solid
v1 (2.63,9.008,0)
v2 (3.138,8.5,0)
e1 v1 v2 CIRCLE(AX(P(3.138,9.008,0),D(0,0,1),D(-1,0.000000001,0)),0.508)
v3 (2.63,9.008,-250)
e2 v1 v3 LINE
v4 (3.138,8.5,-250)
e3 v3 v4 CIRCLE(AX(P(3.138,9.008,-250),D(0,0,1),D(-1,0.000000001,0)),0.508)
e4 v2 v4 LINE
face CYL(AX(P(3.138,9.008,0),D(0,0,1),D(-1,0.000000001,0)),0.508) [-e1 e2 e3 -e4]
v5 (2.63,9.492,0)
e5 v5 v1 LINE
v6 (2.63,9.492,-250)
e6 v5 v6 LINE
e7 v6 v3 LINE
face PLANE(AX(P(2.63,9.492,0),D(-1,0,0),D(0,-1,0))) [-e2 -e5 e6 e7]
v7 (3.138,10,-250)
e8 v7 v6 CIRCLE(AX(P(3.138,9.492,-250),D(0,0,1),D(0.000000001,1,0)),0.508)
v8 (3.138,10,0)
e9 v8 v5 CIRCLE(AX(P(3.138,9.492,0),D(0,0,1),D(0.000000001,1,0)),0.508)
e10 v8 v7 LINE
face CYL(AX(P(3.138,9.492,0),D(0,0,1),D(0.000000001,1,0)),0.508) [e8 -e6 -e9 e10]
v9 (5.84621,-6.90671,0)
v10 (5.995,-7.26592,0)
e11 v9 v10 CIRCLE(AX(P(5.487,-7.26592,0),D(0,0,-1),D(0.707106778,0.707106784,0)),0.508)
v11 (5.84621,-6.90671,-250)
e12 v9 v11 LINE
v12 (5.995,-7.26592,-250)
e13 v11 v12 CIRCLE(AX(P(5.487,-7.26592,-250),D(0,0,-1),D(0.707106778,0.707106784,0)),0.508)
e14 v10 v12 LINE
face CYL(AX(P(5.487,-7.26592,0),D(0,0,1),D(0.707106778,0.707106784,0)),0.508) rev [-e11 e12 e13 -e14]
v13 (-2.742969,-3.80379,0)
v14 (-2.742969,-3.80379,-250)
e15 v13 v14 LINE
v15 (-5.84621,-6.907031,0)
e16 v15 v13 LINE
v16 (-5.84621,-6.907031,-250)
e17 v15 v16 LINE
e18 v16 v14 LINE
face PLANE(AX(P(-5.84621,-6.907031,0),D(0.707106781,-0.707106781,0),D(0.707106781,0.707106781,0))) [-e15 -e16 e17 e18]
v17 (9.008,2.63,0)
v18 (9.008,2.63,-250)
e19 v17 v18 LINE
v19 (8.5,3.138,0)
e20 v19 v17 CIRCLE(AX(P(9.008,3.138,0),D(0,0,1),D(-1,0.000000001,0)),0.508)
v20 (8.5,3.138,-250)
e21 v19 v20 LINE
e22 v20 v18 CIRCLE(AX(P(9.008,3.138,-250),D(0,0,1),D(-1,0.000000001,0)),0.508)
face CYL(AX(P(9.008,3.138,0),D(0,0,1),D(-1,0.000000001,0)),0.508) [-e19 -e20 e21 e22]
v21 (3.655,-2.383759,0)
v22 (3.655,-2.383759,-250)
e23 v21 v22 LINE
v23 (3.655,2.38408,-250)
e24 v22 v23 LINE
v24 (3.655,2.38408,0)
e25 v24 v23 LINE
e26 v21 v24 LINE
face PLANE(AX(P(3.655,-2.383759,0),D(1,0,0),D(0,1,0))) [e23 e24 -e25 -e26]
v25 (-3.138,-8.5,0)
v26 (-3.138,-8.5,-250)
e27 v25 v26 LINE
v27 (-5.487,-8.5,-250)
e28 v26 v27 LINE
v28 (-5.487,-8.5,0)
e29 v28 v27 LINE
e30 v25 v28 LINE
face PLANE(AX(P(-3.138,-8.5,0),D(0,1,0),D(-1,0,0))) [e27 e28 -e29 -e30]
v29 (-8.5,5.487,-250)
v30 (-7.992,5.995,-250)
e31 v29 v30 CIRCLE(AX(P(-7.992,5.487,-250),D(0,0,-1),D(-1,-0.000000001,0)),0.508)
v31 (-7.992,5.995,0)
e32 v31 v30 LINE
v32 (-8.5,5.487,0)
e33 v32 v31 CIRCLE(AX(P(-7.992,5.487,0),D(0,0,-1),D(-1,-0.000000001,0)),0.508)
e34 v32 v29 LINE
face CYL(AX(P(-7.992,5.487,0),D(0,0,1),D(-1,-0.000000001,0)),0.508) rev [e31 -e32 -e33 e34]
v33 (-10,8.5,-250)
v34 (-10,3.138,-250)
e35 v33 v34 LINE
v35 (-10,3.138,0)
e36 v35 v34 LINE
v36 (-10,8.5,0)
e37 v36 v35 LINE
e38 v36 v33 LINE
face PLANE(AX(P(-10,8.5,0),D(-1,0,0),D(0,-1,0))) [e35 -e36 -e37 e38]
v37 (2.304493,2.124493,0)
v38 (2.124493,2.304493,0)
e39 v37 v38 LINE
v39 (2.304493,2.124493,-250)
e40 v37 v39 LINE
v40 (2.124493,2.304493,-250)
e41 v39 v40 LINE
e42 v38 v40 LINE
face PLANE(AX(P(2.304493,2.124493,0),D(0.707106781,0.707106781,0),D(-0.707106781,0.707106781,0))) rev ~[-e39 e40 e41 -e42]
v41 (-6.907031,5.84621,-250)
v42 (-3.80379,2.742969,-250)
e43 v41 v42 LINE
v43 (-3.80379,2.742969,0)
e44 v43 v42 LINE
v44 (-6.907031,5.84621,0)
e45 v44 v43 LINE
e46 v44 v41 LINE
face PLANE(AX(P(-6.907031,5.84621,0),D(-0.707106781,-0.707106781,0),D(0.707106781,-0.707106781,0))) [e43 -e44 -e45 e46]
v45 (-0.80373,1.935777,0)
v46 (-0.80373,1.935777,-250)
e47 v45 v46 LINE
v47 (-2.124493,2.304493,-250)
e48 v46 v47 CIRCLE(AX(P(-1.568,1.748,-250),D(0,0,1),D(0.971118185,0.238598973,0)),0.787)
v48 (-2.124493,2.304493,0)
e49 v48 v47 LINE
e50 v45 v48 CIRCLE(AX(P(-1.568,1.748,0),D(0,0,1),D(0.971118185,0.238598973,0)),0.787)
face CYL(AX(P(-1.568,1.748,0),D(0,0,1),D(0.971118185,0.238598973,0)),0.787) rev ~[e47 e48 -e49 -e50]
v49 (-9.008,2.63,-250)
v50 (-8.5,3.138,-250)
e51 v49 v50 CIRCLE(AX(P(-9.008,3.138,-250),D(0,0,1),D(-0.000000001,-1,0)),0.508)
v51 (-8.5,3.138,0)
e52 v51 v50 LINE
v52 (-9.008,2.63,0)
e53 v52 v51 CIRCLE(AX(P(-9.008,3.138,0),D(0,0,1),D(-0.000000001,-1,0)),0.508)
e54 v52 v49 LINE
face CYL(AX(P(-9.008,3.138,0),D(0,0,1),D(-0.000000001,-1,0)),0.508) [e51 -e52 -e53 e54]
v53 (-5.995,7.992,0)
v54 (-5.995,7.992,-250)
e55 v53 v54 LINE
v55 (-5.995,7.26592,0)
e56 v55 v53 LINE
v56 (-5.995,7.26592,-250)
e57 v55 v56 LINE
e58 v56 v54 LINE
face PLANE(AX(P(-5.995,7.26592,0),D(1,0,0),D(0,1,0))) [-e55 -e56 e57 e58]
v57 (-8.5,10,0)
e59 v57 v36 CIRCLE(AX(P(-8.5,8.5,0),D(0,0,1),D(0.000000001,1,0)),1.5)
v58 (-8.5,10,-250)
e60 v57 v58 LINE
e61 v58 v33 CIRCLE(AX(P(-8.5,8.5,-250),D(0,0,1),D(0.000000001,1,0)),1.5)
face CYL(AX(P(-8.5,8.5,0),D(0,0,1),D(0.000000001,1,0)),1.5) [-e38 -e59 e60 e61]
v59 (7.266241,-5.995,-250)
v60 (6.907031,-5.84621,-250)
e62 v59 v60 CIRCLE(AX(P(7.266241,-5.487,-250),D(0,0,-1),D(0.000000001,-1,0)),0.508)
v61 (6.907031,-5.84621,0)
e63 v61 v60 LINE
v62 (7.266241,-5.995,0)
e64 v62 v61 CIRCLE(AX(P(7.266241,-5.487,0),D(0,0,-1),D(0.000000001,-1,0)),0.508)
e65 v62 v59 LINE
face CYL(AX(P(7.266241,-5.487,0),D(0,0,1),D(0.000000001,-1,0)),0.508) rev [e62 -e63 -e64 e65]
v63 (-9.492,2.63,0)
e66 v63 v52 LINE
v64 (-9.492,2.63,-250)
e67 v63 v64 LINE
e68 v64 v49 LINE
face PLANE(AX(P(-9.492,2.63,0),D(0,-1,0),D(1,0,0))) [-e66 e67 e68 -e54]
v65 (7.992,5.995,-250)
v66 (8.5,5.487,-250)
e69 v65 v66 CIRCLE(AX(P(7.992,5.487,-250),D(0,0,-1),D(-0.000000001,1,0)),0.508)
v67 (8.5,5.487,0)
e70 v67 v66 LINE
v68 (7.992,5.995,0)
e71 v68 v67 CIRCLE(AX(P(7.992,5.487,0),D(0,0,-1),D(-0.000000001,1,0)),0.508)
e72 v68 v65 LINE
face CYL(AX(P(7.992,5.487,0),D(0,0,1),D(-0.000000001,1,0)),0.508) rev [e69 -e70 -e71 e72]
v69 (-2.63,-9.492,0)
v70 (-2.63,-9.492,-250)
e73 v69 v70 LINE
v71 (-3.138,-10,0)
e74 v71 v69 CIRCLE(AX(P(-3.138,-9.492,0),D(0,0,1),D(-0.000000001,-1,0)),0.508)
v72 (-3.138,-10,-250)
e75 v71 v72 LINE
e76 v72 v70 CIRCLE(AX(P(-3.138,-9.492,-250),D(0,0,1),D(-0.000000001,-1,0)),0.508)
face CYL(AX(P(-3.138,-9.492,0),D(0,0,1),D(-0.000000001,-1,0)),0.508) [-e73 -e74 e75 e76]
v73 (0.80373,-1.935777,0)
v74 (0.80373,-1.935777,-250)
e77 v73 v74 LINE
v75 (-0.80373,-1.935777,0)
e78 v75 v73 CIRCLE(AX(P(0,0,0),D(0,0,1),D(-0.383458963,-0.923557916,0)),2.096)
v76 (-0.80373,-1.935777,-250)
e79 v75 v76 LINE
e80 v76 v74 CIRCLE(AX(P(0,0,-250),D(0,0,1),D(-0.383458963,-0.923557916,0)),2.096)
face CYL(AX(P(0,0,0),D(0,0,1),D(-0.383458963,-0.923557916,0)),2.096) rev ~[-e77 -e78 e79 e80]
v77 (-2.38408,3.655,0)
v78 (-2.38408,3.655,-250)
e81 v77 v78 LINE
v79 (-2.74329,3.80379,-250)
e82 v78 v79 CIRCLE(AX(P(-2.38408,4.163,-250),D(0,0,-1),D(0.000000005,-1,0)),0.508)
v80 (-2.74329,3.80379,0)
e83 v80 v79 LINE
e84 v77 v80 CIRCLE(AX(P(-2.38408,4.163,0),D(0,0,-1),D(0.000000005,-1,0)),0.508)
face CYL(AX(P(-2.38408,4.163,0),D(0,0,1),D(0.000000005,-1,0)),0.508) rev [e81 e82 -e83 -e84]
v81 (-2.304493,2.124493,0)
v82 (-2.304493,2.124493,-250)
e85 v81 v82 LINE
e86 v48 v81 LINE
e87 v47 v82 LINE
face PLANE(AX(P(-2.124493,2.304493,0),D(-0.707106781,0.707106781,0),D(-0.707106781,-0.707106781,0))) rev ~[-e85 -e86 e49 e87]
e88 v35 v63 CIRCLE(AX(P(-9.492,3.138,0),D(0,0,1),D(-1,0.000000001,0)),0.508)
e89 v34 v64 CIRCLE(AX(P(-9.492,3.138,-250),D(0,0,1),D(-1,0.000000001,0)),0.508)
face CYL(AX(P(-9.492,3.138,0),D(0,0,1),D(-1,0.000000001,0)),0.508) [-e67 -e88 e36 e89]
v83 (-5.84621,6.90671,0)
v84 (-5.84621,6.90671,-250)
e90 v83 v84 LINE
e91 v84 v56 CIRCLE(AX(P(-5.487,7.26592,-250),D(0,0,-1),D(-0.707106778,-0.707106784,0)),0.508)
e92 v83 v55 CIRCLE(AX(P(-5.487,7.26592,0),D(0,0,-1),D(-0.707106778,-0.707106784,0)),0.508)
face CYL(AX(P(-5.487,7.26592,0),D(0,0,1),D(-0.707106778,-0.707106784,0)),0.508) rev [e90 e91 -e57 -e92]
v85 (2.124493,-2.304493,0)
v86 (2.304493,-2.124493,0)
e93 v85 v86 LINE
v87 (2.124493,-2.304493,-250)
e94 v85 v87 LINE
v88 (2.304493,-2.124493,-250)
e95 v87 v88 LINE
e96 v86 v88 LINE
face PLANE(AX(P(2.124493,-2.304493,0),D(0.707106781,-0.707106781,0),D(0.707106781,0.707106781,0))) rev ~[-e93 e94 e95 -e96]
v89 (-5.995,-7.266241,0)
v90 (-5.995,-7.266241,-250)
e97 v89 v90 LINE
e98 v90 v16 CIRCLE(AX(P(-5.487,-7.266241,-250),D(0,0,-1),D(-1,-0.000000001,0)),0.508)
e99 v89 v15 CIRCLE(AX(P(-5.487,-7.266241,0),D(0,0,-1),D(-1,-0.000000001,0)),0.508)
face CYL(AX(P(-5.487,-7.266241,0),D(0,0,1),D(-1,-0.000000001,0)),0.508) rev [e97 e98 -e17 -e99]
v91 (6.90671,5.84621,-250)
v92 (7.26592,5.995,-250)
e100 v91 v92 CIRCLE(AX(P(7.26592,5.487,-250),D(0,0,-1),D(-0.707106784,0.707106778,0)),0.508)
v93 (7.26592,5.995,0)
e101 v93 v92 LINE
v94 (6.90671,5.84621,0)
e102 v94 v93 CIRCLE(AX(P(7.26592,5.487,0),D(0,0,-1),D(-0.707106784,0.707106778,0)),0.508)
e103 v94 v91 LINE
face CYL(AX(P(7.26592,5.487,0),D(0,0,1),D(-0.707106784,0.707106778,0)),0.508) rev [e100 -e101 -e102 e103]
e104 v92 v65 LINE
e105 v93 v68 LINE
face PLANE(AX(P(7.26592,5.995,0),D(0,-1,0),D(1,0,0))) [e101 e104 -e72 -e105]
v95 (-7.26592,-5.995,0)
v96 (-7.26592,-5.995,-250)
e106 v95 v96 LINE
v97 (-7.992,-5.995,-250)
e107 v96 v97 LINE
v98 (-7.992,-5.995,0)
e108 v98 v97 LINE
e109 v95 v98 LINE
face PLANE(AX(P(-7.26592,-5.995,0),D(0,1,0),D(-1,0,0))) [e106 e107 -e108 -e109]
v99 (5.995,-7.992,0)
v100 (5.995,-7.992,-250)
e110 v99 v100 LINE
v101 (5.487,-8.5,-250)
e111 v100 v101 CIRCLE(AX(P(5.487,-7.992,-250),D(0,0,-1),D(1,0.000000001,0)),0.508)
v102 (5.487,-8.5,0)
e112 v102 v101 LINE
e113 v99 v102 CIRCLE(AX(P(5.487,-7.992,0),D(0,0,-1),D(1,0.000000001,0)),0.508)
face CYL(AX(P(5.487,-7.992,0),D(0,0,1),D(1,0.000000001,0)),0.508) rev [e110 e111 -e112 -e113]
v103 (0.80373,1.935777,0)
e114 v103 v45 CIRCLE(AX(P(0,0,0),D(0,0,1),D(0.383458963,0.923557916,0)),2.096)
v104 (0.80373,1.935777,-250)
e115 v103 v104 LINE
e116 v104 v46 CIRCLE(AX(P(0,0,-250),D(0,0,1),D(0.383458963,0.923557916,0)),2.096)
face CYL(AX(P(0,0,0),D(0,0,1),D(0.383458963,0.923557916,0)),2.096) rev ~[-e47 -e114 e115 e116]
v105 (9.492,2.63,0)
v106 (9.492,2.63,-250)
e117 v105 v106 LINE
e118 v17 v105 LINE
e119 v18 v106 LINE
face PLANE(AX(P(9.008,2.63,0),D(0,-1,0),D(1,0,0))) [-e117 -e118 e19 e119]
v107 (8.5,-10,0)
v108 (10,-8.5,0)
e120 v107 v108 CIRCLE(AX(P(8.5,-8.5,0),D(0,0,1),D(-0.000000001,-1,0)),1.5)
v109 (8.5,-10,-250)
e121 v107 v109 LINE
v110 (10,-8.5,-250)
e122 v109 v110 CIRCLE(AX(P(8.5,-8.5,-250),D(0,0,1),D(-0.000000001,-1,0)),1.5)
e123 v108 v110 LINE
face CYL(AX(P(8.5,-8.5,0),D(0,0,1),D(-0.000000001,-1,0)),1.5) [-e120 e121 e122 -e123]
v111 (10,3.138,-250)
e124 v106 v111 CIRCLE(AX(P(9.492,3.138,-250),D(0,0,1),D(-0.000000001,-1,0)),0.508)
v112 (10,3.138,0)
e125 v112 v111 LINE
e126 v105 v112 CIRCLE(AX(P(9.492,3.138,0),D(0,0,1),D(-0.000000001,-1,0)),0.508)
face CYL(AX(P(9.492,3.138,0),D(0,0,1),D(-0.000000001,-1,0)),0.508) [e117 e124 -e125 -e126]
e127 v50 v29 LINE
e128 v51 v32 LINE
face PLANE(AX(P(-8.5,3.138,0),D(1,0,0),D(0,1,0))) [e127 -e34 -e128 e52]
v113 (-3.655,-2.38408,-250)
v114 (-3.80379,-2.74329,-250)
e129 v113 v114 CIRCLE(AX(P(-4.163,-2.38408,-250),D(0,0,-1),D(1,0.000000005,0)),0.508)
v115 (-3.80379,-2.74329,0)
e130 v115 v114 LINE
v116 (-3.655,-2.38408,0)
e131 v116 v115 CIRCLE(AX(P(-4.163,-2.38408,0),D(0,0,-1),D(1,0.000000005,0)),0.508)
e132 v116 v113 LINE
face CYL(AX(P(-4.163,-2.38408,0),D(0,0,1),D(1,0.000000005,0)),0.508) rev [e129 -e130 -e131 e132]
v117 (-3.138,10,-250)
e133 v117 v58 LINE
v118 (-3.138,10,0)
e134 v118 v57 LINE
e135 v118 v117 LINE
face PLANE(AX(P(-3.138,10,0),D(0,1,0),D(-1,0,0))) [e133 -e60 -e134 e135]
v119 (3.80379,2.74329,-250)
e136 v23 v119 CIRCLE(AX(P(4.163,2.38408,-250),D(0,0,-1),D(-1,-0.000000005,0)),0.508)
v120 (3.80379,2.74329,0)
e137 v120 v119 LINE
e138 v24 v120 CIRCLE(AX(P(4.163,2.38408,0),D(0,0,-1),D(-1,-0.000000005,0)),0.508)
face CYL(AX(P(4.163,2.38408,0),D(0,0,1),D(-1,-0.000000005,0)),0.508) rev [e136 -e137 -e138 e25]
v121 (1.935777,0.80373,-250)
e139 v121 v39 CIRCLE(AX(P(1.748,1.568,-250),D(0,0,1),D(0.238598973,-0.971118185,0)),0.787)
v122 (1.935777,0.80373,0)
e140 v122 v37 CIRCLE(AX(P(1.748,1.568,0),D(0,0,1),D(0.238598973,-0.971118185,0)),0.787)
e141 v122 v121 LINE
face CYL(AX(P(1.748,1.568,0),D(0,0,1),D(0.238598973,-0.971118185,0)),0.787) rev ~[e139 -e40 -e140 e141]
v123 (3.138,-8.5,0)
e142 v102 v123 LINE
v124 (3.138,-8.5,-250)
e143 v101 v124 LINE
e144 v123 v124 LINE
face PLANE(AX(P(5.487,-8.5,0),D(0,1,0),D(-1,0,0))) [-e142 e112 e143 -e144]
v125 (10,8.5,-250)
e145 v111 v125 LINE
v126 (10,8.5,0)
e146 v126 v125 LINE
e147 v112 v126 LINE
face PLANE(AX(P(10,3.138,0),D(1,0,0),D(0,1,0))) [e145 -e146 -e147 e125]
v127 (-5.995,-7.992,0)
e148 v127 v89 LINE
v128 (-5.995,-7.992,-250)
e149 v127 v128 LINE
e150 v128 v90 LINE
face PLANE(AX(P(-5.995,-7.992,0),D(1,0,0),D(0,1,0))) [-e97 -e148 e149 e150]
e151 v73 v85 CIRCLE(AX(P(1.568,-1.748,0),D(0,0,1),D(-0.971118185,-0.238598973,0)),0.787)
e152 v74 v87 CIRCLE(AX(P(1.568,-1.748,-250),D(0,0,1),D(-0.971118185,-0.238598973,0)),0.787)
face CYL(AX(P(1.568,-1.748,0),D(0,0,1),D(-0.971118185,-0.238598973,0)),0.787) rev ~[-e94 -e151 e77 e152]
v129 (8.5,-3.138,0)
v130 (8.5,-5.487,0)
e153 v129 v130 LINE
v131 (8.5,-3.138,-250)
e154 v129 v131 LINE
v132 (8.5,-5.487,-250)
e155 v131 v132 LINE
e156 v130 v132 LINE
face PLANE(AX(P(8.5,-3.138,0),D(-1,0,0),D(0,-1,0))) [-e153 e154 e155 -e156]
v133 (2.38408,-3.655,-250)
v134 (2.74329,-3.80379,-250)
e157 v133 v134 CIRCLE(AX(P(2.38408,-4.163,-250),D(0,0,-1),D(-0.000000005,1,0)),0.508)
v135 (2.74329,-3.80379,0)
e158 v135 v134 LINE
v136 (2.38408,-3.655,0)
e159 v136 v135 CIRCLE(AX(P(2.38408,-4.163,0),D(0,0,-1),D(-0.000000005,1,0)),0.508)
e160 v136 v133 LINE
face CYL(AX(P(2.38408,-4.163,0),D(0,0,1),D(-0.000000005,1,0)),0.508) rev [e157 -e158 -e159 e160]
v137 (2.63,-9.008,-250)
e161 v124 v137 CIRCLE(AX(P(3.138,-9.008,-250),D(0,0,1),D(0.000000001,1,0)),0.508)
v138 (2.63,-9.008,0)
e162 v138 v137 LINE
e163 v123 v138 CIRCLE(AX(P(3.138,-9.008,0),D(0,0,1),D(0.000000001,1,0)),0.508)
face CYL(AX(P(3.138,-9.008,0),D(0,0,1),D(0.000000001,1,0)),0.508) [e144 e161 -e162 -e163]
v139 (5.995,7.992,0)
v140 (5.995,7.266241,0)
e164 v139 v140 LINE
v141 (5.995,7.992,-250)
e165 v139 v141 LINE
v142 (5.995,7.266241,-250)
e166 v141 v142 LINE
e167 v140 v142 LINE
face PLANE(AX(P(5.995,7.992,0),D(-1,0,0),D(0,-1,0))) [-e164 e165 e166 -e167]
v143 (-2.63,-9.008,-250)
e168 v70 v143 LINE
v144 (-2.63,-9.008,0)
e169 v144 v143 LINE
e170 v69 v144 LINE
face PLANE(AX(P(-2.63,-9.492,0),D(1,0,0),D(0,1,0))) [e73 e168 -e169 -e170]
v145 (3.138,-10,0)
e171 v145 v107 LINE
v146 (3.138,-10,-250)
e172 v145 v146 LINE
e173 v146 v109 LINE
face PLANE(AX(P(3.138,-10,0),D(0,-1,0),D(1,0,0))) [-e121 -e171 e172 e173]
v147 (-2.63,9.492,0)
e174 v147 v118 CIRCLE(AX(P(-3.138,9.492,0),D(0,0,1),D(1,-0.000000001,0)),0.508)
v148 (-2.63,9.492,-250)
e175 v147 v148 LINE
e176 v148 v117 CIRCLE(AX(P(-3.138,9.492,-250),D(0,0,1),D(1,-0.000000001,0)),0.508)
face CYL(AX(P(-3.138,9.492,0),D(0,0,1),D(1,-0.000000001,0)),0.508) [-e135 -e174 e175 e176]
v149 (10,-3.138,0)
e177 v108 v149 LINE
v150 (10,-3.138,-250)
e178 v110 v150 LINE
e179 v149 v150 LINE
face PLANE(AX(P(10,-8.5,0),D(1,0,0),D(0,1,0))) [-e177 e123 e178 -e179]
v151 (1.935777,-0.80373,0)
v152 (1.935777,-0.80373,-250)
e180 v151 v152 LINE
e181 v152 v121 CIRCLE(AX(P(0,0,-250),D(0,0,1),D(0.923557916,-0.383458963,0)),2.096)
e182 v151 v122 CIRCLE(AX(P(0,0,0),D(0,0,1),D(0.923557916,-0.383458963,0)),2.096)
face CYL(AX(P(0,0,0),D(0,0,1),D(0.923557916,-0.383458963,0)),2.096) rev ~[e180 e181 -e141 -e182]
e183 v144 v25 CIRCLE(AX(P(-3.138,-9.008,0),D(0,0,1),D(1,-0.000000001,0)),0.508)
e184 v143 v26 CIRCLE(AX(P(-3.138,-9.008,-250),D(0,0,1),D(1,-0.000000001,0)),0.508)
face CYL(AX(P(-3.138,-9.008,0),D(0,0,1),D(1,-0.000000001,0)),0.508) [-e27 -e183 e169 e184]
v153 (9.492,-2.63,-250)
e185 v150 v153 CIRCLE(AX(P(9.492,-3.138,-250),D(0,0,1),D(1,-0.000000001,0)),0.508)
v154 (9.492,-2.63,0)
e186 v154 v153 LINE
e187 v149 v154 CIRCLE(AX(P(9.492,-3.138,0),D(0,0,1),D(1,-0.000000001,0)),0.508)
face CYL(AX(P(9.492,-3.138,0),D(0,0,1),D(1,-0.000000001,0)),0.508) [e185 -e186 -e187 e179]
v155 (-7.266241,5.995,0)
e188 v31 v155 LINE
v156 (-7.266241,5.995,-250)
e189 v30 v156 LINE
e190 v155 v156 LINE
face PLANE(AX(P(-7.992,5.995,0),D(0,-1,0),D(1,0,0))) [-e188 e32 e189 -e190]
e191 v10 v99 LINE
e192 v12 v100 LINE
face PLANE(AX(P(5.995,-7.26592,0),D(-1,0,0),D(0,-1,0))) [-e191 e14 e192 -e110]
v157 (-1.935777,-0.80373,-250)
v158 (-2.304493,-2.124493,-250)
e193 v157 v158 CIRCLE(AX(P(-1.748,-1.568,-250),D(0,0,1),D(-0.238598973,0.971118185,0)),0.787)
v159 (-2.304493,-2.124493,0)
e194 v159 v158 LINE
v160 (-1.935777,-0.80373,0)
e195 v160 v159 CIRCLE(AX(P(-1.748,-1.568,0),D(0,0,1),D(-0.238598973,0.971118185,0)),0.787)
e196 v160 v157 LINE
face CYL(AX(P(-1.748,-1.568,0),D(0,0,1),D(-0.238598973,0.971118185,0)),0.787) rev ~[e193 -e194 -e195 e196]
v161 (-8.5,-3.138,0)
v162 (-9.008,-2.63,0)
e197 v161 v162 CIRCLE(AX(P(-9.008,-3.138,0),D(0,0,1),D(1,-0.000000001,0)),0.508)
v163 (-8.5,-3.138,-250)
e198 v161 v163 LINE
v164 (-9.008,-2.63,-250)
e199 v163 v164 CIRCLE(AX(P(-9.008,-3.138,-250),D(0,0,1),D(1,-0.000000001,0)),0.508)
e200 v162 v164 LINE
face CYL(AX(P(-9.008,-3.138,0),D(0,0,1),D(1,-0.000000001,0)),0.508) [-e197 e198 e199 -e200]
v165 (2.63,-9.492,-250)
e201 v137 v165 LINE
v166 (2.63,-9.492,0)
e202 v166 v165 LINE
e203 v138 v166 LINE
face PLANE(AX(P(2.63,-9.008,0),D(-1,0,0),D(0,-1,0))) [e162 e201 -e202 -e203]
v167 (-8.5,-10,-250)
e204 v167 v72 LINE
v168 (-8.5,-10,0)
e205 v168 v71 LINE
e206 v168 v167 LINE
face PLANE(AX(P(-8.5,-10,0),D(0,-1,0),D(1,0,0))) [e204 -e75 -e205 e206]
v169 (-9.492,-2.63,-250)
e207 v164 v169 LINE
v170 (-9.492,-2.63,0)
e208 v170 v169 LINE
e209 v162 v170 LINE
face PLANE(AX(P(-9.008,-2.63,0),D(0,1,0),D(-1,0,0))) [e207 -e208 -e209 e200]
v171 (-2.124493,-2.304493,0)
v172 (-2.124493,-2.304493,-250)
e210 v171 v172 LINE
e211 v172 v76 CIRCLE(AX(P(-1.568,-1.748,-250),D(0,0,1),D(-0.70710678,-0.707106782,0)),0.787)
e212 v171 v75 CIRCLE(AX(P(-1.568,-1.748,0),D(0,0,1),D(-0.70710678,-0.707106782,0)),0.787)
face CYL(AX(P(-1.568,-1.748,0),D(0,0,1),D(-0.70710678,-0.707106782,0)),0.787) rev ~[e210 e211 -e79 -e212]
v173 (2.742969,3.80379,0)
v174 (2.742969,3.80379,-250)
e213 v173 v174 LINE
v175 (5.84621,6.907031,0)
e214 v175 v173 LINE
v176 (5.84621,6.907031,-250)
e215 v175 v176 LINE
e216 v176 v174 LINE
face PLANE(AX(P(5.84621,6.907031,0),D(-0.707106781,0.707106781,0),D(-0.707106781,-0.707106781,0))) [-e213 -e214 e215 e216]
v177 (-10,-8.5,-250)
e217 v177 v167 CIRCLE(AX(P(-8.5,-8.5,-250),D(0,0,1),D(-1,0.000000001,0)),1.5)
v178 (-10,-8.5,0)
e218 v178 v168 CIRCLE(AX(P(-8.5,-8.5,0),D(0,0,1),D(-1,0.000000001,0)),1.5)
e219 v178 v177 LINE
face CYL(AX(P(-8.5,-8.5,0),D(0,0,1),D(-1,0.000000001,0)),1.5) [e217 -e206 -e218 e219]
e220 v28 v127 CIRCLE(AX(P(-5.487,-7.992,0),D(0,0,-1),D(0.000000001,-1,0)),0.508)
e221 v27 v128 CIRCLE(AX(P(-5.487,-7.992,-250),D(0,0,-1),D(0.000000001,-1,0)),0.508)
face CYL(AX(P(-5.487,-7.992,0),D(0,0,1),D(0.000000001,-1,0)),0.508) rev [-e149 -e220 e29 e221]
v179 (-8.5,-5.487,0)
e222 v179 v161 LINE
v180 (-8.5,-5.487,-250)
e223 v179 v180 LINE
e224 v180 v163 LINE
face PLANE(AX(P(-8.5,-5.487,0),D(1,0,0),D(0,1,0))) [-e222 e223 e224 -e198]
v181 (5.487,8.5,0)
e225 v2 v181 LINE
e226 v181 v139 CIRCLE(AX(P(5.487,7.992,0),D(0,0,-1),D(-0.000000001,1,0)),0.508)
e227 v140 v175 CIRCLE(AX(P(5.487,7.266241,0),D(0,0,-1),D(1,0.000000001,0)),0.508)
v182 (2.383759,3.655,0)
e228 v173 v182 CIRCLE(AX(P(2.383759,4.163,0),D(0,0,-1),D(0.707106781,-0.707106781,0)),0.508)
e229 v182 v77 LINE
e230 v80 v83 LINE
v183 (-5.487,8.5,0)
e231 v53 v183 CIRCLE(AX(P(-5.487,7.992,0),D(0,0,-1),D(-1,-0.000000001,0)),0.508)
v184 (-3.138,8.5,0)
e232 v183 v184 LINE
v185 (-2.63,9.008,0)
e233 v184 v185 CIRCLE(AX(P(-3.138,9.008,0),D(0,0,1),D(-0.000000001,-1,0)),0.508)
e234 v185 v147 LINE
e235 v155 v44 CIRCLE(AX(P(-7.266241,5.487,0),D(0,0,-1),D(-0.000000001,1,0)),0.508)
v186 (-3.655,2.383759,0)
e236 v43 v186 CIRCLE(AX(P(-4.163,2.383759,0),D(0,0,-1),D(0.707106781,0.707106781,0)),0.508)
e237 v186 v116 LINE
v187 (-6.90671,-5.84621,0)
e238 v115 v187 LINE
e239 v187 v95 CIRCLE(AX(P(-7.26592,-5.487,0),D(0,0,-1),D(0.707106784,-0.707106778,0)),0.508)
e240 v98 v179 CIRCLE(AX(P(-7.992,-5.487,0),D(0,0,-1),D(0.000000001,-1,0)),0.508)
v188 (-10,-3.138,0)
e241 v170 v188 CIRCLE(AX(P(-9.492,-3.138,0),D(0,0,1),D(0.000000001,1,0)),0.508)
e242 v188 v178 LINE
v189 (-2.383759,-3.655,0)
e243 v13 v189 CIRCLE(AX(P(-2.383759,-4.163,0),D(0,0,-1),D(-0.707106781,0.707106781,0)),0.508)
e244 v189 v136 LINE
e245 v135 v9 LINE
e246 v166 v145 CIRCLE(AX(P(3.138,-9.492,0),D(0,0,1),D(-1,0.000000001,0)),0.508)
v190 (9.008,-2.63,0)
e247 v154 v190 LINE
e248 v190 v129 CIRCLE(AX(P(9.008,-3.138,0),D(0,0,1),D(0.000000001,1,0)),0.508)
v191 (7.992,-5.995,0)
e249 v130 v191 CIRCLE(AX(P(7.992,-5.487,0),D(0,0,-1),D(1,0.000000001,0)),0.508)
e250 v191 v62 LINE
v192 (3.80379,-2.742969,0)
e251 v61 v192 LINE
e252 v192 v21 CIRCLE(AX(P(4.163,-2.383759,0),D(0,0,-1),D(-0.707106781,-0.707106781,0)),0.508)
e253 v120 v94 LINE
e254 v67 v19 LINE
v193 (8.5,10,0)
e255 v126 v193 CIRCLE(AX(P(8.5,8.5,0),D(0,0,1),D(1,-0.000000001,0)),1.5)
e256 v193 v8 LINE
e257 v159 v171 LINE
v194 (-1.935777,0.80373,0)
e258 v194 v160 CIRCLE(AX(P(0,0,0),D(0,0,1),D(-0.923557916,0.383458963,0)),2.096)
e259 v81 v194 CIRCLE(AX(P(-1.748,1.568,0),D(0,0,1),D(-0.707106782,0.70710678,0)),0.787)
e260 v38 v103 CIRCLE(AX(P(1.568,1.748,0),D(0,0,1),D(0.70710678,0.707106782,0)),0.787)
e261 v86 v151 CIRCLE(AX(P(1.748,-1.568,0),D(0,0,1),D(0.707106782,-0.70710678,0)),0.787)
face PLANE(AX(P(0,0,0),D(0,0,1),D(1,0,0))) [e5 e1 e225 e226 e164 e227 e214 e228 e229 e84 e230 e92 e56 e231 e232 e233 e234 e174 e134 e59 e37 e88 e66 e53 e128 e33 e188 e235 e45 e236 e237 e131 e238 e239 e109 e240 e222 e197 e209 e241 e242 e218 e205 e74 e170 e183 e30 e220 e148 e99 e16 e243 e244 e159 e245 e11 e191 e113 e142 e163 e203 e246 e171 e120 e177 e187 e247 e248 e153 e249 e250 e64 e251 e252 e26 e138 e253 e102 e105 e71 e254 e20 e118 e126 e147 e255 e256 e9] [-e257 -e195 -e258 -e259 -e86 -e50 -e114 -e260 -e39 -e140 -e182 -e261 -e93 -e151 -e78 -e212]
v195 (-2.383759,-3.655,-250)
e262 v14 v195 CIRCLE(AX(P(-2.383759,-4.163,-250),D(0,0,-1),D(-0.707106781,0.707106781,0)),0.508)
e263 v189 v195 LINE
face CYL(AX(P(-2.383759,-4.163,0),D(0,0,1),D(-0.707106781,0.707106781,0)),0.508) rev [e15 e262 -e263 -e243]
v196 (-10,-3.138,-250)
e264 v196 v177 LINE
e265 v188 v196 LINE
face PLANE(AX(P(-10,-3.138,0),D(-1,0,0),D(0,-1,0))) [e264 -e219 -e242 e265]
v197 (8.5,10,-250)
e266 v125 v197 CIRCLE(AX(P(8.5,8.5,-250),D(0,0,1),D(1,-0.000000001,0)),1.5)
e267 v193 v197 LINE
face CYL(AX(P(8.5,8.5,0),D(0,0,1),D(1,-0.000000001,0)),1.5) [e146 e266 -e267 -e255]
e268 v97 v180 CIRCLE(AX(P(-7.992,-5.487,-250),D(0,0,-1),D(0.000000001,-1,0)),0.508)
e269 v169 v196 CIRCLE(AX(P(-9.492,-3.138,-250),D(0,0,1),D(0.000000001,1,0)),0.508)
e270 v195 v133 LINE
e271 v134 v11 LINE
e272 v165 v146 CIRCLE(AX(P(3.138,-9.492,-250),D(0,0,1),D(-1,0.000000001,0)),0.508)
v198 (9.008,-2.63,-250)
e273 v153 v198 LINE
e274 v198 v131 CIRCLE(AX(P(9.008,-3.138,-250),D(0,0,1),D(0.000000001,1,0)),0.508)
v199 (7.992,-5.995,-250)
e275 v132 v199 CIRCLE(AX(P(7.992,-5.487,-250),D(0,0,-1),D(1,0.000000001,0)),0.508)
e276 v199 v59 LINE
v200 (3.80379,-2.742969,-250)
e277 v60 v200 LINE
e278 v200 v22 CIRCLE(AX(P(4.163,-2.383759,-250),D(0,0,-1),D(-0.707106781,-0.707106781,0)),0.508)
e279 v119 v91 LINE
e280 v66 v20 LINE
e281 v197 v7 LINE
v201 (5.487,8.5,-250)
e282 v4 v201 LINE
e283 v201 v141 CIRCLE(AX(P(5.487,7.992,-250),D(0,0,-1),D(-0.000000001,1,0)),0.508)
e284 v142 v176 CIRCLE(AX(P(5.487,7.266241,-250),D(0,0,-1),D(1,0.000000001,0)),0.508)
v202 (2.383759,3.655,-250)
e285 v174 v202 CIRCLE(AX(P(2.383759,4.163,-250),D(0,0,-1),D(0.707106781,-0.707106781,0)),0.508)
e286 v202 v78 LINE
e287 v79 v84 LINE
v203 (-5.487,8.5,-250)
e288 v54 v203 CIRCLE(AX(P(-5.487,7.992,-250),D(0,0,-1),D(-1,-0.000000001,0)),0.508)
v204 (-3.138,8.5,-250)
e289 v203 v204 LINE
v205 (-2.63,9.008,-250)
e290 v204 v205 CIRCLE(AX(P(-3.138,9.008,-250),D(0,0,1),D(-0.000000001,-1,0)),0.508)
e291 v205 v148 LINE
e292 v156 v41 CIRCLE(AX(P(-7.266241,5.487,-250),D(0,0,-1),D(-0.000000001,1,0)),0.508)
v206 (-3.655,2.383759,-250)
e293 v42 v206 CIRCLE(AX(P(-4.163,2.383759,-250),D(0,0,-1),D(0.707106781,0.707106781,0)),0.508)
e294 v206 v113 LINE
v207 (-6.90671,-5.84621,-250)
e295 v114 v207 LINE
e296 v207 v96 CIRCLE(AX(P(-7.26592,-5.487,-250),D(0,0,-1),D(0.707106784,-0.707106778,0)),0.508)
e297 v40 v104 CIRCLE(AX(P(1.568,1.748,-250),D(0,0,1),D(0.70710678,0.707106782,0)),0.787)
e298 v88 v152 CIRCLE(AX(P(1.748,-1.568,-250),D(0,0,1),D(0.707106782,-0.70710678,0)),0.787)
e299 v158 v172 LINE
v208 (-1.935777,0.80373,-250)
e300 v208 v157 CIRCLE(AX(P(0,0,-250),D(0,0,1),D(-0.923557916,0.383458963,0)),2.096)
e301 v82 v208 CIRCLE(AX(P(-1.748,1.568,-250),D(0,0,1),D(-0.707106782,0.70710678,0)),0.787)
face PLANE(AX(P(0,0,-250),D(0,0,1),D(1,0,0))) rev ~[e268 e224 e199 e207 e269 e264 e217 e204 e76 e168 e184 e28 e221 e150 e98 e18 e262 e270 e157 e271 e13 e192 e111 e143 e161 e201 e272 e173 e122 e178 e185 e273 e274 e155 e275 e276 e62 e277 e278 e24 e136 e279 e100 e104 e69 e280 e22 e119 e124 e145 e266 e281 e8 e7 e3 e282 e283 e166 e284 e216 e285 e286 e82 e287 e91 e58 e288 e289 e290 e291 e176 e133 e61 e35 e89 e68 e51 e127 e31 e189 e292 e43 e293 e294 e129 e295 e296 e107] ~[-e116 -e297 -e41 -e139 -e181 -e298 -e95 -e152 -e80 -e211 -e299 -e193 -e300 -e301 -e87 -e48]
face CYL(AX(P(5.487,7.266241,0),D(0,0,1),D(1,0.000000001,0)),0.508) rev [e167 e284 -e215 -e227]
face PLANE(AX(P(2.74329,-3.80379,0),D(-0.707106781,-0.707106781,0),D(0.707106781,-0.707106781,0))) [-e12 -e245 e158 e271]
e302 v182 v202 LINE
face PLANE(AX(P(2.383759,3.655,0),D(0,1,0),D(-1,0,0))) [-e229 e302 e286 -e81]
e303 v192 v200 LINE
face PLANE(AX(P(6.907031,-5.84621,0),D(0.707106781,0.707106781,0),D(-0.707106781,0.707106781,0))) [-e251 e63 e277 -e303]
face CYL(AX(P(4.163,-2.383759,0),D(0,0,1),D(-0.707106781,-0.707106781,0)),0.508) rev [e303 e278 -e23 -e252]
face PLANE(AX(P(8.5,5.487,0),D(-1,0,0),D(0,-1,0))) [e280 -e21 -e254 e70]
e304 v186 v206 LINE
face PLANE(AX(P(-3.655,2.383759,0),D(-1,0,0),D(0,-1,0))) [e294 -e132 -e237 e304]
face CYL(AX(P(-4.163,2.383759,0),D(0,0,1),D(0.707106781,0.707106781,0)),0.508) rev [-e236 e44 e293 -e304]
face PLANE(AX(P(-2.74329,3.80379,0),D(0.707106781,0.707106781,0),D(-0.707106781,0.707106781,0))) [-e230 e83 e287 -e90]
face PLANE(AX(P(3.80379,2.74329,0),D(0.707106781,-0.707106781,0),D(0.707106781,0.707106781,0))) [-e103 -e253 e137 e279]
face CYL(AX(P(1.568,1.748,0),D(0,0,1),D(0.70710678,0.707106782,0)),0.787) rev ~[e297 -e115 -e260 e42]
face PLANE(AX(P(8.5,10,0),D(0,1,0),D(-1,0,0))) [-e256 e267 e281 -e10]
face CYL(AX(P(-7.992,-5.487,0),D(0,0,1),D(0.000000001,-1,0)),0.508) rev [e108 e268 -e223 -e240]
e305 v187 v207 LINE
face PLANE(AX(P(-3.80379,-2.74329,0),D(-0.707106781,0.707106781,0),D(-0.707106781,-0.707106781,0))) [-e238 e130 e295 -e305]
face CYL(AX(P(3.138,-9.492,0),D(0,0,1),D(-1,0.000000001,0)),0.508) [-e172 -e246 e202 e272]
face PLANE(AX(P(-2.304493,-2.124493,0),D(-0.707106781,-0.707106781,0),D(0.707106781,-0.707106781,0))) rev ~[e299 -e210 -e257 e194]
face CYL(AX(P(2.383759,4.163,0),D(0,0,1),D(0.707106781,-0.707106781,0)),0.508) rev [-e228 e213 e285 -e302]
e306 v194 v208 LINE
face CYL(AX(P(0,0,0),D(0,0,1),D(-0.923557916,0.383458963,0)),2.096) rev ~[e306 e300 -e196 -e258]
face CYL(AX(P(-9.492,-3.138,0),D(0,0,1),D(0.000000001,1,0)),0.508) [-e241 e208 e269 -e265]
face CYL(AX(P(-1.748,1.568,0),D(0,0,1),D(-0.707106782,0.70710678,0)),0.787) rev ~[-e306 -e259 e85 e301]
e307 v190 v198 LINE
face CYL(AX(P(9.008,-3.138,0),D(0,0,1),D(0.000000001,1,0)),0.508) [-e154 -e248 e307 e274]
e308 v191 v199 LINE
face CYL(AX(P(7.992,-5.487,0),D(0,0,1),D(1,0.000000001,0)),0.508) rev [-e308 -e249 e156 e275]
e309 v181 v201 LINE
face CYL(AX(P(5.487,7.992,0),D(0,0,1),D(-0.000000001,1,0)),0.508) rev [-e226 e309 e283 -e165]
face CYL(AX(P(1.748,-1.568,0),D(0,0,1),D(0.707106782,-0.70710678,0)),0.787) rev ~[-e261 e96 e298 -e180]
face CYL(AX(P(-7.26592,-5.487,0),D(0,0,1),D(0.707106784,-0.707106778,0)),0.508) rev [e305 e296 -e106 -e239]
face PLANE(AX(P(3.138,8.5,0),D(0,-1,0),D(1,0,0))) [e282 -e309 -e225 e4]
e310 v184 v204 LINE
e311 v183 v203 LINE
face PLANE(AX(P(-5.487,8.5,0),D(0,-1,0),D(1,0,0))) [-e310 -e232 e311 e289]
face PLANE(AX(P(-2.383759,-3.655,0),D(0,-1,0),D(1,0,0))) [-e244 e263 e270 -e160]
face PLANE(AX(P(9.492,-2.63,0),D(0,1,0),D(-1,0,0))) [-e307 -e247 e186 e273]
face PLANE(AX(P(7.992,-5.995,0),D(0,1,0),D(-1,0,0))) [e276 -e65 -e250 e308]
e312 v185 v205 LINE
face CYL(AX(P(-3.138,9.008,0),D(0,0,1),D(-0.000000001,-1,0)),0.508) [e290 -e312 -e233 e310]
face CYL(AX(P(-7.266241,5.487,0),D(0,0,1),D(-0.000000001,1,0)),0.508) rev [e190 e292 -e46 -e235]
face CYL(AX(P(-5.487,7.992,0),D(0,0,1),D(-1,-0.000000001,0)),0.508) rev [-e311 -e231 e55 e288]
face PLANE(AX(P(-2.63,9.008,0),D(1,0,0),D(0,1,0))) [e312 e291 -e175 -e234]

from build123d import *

# Parameters (mm, degrees)
BOSS_EXTRUDE1_DEPTH = 250


with BuildPart() as part:
    # Sketch2 → Boss-Extrude1 (new body)
    with BuildSketch(Plane.XY):
        with BuildLine():
            Line((-10, -3.138), (-10, -8.5))
            ThreePointArc((-10, -8.5), (-9.560660172, -9.560660172), (-8.5, -10))
            Line((-8.5, -10), (-3.138, -10))
            ThreePointArc((-3.138, -10), (-2.778789755, -9.851210245), (-2.63, -9.492))
            Line((-2.63, -9.492), (-2.63, -9.008))
            ThreePointArc((-2.63, -9.008), (-2.778789755, -8.648789755), (-3.138, -8.5))
            Line((-3.138, -8.5), (-5.487, -8.5))
            ThreePointArc((-5.487, -8.5), (-5.846210245, -8.351210245), (-5.995, -7.992))
            Line((-5.995, -7.992), (-5.995, -7.266240833))
            ThreePointArc((-5.995, -7.266240833), (-5.956330803, -7.07183765), (-5.846210245, -6.907030588))
            Line((-5.846210245, -6.907030588), (-2.742969412, -3.803789755))
            ThreePointArc((-2.742969412, -3.803789755), (-2.57816235, -3.693669197), (-2.383759167, -3.655))
            Line((-2.383759167, -3.655), (2.38407951, -3.655))
            ThreePointArc((2.38407951, -3.655), (2.578482694, -3.693669197), (2.743289755, -3.803789755))
            Line((2.743289755, -3.803789755), (5.846210245, -6.906710245))
            ThreePointArc((5.846210245, -6.906710245), (5.956330803, -7.071517306), (5.995, -7.26592049))
            Line((5.995, -7.26592049), (5.995, -7.992))
            ThreePointArc((5.995, -7.992), (5.846210245, -8.351210245), (5.487, -8.5))
            Line((5.487, -8.5), (3.138, -8.5))
            ThreePointArc((3.138, -8.5), (2.778789755, -8.648789755), (2.63, -9.008))
            Line((2.63, -9.008), (2.63, -9.492))
            ThreePointArc((2.63, -9.492), (2.778789755, -9.851210245), (3.138, -10))
            Line((3.138, -10), (8.5, -10))
            ThreePointArc((8.5, -10), (9.560660172, -9.560660172), (10, -8.5))
            Line((10, -8.5), (10, -3.138))
            ThreePointArc((10, -3.138), (9.851210245, -2.778789755), (9.492, -2.63))
            Line((9.492, -2.63), (9.008, -2.63))
            ThreePointArc((9.008, -2.63), (8.648789755, -2.778789755), (8.5, -3.138))
            Line((8.5, -3.138), (8.5, -5.487))
            ThreePointArc((8.5, -5.487), (8.351210245, -5.846210245), (7.992, -5.995))
            Line((7.992, -5.995), (7.266240833, -5.995))
            ThreePointArc((7.266240833, -5.995), (7.07183765, -5.956330803), (6.907030588, -5.846210245))
            Line((6.907030588, -5.846210245), (3.803789755, -2.742969412))
            ThreePointArc((3.803789755, -2.742969412), (3.693669197, -2.57816235), (3.655, -2.383759167))
            Line((3.655, -2.383759167), (3.655, 2.38407951))
            ThreePointArc((3.655, 2.38407951), (3.693669197, 2.578482694), (3.803789755, 2.743289755))
            Line((3.803789755, 2.743289755), (6.906710245, 5.846210245))
            ThreePointArc((6.906710245, 5.846210245), (7.071517306, 5.956330803), (7.26592049, 5.995))
            Line((7.26592049, 5.995), (7.992, 5.995))
            ThreePointArc((7.992, 5.995), (8.351210245, 5.846210245), (8.5, 5.487))
            Line((8.5, 5.487), (8.5, 3.138))
            ThreePointArc((8.5, 3.138), (8.648789755, 2.778789755), (9.008, 2.63))
            Line((9.008, 2.63), (9.492, 2.63))
            ThreePointArc((9.492, 2.63), (9.851210245, 2.778789755), (10, 3.138))
            Line((10, 3.138), (10, 8.5))
            ThreePointArc((10, 8.5), (9.560660172, 9.560660172), (8.5, 10))
            Line((8.5, 10), (3.138, 10))
            ThreePointArc((3.138, 10), (2.778789755, 9.851210245), (2.63, 9.492))
            Line((2.63, 9.492), (2.63, 9.008))
            ThreePointArc((2.63, 9.008), (2.778789755, 8.648789755), (3.138, 8.5))
            Line((3.138, 8.5), (5.487, 8.5))
            ThreePointArc((5.487, 8.5), (5.846210245, 8.351210245), (5.995, 7.992))
            Line((5.995, 7.992), (5.995, 7.266240833))
            ThreePointArc((5.995, 7.266240833), (5.956330803, 7.07183765), (5.846210245, 6.907030588))
            Line((5.846210245, 6.907030588), (2.742969412, 3.803789755))
            ThreePointArc((2.742969412, 3.803789755), (2.57816235, 3.693669197), (2.383759167, 3.655))
            Line((2.383759167, 3.655), (-2.38407951, 3.655))
            ThreePointArc((-2.38407951, 3.655), (-2.578482694, 3.693669197), (-2.743289755, 3.803789755))
            Line((-2.743289755, 3.803789755), (-5.846210245, 6.906710245))
            ThreePointArc((-5.846210245, 6.906710245), (-5.956330803, 7.071517306), (-5.995, 7.26592049))
            Line((-5.995, 7.26592049), (-5.995, 7.992))
            ThreePointArc((-5.995, 7.992), (-5.846210245, 8.351210245), (-5.487, 8.5))
            Line((-5.487, 8.5), (-3.138, 8.5))
            ThreePointArc((-3.138, 8.5), (-2.778789755, 8.648789755), (-2.63, 9.008))
            Line((-2.63, 9.008), (-2.63, 9.492))
            ThreePointArc((-2.63, 9.492), (-2.778789755, 9.851210245), (-3.138, 10))
            Line((-3.138, 10), (-8.5, 10))
            ThreePointArc((-8.5, 10), (-9.560660172, 9.560660172), (-10, 8.5))
            Line((-10, 8.5), (-10, 3.138))
            ThreePointArc((-10, 3.138), (-9.851210245, 2.778789755), (-9.492, 2.63))
            Line((-9.492, 2.63), (-9.008, 2.63))
            ThreePointArc((-9.008, 2.63), (-8.648789755, 2.778789755), (-8.5, 3.138))
            Line((-8.5, 3.138), (-8.5, 5.487))
            ThreePointArc((-8.5, 5.487), (-8.351210245, 5.846210245), (-7.992, 5.995))
            Line((-7.992, 5.995), (-7.266240833, 5.995))
            ThreePointArc((-7.266240833, 5.995), (-7.07183765, 5.956330803), (-6.907030588, 5.846210245))
            Line((-6.907030588, 5.846210245), (-3.803789755, 2.742969412))
            ThreePointArc((-3.803789755, 2.742969412), (-3.693669197, 2.57816235), (-3.655, 2.383759167))
            Line((-3.655, 2.383759167), (-3.655, -2.38407951))
            ThreePointArc((-3.655, -2.38407951), (-3.693669197, -2.578482694), (-3.803789755, -2.743289755))
            Line((-3.803789755, -2.743289755), (-6.906710245, -5.846210245))
            ThreePointArc((-6.906710245, -5.846210245), (-7.071517306, -5.956330803), (-7.26592049, -5.995))
            Line((-7.26592049, -5.995), (-7.992, -5.995))
            ThreePointArc((-7.992, -5.995), (-8.351210245, -5.846210245), (-8.5, -5.487))
            Line((-8.5, -5.487), (-8.5, -3.138))
            ThreePointArc((-8.5, -3.138), (-8.648789755, -2.778789755), (-9.008, -2.63))
            Line((-9.008, -2.63), (-9.492, -2.63))
            ThreePointArc((-9.492, -2.63), (-9.851210245, -2.778789755), (-10, -3.138))
        make_face()
        with BuildLine():
            Line((-2.124493037, 2.304493037), (-2.304493037, 2.124493037))
            ThreePointArc((-2.304493037, 2.124493037), (-2.506016078, 1.35638567), (-1.935777391, 0.803729988))
            ThreePointArc((-1.935777391, 0.803729988), (-2.096, 0), (-1.935777391, -0.803729988))
            ThreePointArc((-1.935777391, -0.803729988), (-2.506016078, -1.35638567), (-2.304493037, -2.124493037))
            Line((-2.304493037, -2.124493037), (-2.124493037, -2.304493037))
            ThreePointArc((-2.124493037, -2.304493037), (-1.35638567, -2.506016078), (-0.803729988, -1.935777391))
            ThreePointArc((-0.803729988, -1.935777391), (0, -2.096), (0.803729988, -1.935777391))
            ThreePointArc((0.803729988, -1.935777391), (1.35638567, -2.506016078), (2.124493037, -2.304493037))
            Line((2.124493037, -2.304493037), (2.304493037, -2.124493037))
            ThreePointArc((2.304493037, -2.124493037), (2.506016078, -1.35638567), (1.935777391, -0.803729988))
            ThreePointArc((1.935777391, -0.803729988), (2.096, 0), (1.935777391, 0.803729988))
            ThreePointArc((1.935777391, 0.803729988), (2.506016078, 1.35638567), (2.304493037, 2.124493037))
            Line((2.304493037, 2.124493037), (2.124493037, 2.304493037))
            ThreePointArc((2.124493037, 2.304493037), (1.35638567, 2.506016078), (0.803729988, 1.935777391))
            ThreePointArc((0.803729988, 1.935777391), (0, 2.096), (-0.803729988, 1.935777391))
            ThreePointArc((-0.803729988, 1.935777391), (-1.35638567, 2.506016078), (-2.124493037, 2.304493037))
        make_face(mode=Mode.SUBTRACT)
    extrude(amount=-BOSS_EXTRUDE1_DEPTH)


solid = part.part
